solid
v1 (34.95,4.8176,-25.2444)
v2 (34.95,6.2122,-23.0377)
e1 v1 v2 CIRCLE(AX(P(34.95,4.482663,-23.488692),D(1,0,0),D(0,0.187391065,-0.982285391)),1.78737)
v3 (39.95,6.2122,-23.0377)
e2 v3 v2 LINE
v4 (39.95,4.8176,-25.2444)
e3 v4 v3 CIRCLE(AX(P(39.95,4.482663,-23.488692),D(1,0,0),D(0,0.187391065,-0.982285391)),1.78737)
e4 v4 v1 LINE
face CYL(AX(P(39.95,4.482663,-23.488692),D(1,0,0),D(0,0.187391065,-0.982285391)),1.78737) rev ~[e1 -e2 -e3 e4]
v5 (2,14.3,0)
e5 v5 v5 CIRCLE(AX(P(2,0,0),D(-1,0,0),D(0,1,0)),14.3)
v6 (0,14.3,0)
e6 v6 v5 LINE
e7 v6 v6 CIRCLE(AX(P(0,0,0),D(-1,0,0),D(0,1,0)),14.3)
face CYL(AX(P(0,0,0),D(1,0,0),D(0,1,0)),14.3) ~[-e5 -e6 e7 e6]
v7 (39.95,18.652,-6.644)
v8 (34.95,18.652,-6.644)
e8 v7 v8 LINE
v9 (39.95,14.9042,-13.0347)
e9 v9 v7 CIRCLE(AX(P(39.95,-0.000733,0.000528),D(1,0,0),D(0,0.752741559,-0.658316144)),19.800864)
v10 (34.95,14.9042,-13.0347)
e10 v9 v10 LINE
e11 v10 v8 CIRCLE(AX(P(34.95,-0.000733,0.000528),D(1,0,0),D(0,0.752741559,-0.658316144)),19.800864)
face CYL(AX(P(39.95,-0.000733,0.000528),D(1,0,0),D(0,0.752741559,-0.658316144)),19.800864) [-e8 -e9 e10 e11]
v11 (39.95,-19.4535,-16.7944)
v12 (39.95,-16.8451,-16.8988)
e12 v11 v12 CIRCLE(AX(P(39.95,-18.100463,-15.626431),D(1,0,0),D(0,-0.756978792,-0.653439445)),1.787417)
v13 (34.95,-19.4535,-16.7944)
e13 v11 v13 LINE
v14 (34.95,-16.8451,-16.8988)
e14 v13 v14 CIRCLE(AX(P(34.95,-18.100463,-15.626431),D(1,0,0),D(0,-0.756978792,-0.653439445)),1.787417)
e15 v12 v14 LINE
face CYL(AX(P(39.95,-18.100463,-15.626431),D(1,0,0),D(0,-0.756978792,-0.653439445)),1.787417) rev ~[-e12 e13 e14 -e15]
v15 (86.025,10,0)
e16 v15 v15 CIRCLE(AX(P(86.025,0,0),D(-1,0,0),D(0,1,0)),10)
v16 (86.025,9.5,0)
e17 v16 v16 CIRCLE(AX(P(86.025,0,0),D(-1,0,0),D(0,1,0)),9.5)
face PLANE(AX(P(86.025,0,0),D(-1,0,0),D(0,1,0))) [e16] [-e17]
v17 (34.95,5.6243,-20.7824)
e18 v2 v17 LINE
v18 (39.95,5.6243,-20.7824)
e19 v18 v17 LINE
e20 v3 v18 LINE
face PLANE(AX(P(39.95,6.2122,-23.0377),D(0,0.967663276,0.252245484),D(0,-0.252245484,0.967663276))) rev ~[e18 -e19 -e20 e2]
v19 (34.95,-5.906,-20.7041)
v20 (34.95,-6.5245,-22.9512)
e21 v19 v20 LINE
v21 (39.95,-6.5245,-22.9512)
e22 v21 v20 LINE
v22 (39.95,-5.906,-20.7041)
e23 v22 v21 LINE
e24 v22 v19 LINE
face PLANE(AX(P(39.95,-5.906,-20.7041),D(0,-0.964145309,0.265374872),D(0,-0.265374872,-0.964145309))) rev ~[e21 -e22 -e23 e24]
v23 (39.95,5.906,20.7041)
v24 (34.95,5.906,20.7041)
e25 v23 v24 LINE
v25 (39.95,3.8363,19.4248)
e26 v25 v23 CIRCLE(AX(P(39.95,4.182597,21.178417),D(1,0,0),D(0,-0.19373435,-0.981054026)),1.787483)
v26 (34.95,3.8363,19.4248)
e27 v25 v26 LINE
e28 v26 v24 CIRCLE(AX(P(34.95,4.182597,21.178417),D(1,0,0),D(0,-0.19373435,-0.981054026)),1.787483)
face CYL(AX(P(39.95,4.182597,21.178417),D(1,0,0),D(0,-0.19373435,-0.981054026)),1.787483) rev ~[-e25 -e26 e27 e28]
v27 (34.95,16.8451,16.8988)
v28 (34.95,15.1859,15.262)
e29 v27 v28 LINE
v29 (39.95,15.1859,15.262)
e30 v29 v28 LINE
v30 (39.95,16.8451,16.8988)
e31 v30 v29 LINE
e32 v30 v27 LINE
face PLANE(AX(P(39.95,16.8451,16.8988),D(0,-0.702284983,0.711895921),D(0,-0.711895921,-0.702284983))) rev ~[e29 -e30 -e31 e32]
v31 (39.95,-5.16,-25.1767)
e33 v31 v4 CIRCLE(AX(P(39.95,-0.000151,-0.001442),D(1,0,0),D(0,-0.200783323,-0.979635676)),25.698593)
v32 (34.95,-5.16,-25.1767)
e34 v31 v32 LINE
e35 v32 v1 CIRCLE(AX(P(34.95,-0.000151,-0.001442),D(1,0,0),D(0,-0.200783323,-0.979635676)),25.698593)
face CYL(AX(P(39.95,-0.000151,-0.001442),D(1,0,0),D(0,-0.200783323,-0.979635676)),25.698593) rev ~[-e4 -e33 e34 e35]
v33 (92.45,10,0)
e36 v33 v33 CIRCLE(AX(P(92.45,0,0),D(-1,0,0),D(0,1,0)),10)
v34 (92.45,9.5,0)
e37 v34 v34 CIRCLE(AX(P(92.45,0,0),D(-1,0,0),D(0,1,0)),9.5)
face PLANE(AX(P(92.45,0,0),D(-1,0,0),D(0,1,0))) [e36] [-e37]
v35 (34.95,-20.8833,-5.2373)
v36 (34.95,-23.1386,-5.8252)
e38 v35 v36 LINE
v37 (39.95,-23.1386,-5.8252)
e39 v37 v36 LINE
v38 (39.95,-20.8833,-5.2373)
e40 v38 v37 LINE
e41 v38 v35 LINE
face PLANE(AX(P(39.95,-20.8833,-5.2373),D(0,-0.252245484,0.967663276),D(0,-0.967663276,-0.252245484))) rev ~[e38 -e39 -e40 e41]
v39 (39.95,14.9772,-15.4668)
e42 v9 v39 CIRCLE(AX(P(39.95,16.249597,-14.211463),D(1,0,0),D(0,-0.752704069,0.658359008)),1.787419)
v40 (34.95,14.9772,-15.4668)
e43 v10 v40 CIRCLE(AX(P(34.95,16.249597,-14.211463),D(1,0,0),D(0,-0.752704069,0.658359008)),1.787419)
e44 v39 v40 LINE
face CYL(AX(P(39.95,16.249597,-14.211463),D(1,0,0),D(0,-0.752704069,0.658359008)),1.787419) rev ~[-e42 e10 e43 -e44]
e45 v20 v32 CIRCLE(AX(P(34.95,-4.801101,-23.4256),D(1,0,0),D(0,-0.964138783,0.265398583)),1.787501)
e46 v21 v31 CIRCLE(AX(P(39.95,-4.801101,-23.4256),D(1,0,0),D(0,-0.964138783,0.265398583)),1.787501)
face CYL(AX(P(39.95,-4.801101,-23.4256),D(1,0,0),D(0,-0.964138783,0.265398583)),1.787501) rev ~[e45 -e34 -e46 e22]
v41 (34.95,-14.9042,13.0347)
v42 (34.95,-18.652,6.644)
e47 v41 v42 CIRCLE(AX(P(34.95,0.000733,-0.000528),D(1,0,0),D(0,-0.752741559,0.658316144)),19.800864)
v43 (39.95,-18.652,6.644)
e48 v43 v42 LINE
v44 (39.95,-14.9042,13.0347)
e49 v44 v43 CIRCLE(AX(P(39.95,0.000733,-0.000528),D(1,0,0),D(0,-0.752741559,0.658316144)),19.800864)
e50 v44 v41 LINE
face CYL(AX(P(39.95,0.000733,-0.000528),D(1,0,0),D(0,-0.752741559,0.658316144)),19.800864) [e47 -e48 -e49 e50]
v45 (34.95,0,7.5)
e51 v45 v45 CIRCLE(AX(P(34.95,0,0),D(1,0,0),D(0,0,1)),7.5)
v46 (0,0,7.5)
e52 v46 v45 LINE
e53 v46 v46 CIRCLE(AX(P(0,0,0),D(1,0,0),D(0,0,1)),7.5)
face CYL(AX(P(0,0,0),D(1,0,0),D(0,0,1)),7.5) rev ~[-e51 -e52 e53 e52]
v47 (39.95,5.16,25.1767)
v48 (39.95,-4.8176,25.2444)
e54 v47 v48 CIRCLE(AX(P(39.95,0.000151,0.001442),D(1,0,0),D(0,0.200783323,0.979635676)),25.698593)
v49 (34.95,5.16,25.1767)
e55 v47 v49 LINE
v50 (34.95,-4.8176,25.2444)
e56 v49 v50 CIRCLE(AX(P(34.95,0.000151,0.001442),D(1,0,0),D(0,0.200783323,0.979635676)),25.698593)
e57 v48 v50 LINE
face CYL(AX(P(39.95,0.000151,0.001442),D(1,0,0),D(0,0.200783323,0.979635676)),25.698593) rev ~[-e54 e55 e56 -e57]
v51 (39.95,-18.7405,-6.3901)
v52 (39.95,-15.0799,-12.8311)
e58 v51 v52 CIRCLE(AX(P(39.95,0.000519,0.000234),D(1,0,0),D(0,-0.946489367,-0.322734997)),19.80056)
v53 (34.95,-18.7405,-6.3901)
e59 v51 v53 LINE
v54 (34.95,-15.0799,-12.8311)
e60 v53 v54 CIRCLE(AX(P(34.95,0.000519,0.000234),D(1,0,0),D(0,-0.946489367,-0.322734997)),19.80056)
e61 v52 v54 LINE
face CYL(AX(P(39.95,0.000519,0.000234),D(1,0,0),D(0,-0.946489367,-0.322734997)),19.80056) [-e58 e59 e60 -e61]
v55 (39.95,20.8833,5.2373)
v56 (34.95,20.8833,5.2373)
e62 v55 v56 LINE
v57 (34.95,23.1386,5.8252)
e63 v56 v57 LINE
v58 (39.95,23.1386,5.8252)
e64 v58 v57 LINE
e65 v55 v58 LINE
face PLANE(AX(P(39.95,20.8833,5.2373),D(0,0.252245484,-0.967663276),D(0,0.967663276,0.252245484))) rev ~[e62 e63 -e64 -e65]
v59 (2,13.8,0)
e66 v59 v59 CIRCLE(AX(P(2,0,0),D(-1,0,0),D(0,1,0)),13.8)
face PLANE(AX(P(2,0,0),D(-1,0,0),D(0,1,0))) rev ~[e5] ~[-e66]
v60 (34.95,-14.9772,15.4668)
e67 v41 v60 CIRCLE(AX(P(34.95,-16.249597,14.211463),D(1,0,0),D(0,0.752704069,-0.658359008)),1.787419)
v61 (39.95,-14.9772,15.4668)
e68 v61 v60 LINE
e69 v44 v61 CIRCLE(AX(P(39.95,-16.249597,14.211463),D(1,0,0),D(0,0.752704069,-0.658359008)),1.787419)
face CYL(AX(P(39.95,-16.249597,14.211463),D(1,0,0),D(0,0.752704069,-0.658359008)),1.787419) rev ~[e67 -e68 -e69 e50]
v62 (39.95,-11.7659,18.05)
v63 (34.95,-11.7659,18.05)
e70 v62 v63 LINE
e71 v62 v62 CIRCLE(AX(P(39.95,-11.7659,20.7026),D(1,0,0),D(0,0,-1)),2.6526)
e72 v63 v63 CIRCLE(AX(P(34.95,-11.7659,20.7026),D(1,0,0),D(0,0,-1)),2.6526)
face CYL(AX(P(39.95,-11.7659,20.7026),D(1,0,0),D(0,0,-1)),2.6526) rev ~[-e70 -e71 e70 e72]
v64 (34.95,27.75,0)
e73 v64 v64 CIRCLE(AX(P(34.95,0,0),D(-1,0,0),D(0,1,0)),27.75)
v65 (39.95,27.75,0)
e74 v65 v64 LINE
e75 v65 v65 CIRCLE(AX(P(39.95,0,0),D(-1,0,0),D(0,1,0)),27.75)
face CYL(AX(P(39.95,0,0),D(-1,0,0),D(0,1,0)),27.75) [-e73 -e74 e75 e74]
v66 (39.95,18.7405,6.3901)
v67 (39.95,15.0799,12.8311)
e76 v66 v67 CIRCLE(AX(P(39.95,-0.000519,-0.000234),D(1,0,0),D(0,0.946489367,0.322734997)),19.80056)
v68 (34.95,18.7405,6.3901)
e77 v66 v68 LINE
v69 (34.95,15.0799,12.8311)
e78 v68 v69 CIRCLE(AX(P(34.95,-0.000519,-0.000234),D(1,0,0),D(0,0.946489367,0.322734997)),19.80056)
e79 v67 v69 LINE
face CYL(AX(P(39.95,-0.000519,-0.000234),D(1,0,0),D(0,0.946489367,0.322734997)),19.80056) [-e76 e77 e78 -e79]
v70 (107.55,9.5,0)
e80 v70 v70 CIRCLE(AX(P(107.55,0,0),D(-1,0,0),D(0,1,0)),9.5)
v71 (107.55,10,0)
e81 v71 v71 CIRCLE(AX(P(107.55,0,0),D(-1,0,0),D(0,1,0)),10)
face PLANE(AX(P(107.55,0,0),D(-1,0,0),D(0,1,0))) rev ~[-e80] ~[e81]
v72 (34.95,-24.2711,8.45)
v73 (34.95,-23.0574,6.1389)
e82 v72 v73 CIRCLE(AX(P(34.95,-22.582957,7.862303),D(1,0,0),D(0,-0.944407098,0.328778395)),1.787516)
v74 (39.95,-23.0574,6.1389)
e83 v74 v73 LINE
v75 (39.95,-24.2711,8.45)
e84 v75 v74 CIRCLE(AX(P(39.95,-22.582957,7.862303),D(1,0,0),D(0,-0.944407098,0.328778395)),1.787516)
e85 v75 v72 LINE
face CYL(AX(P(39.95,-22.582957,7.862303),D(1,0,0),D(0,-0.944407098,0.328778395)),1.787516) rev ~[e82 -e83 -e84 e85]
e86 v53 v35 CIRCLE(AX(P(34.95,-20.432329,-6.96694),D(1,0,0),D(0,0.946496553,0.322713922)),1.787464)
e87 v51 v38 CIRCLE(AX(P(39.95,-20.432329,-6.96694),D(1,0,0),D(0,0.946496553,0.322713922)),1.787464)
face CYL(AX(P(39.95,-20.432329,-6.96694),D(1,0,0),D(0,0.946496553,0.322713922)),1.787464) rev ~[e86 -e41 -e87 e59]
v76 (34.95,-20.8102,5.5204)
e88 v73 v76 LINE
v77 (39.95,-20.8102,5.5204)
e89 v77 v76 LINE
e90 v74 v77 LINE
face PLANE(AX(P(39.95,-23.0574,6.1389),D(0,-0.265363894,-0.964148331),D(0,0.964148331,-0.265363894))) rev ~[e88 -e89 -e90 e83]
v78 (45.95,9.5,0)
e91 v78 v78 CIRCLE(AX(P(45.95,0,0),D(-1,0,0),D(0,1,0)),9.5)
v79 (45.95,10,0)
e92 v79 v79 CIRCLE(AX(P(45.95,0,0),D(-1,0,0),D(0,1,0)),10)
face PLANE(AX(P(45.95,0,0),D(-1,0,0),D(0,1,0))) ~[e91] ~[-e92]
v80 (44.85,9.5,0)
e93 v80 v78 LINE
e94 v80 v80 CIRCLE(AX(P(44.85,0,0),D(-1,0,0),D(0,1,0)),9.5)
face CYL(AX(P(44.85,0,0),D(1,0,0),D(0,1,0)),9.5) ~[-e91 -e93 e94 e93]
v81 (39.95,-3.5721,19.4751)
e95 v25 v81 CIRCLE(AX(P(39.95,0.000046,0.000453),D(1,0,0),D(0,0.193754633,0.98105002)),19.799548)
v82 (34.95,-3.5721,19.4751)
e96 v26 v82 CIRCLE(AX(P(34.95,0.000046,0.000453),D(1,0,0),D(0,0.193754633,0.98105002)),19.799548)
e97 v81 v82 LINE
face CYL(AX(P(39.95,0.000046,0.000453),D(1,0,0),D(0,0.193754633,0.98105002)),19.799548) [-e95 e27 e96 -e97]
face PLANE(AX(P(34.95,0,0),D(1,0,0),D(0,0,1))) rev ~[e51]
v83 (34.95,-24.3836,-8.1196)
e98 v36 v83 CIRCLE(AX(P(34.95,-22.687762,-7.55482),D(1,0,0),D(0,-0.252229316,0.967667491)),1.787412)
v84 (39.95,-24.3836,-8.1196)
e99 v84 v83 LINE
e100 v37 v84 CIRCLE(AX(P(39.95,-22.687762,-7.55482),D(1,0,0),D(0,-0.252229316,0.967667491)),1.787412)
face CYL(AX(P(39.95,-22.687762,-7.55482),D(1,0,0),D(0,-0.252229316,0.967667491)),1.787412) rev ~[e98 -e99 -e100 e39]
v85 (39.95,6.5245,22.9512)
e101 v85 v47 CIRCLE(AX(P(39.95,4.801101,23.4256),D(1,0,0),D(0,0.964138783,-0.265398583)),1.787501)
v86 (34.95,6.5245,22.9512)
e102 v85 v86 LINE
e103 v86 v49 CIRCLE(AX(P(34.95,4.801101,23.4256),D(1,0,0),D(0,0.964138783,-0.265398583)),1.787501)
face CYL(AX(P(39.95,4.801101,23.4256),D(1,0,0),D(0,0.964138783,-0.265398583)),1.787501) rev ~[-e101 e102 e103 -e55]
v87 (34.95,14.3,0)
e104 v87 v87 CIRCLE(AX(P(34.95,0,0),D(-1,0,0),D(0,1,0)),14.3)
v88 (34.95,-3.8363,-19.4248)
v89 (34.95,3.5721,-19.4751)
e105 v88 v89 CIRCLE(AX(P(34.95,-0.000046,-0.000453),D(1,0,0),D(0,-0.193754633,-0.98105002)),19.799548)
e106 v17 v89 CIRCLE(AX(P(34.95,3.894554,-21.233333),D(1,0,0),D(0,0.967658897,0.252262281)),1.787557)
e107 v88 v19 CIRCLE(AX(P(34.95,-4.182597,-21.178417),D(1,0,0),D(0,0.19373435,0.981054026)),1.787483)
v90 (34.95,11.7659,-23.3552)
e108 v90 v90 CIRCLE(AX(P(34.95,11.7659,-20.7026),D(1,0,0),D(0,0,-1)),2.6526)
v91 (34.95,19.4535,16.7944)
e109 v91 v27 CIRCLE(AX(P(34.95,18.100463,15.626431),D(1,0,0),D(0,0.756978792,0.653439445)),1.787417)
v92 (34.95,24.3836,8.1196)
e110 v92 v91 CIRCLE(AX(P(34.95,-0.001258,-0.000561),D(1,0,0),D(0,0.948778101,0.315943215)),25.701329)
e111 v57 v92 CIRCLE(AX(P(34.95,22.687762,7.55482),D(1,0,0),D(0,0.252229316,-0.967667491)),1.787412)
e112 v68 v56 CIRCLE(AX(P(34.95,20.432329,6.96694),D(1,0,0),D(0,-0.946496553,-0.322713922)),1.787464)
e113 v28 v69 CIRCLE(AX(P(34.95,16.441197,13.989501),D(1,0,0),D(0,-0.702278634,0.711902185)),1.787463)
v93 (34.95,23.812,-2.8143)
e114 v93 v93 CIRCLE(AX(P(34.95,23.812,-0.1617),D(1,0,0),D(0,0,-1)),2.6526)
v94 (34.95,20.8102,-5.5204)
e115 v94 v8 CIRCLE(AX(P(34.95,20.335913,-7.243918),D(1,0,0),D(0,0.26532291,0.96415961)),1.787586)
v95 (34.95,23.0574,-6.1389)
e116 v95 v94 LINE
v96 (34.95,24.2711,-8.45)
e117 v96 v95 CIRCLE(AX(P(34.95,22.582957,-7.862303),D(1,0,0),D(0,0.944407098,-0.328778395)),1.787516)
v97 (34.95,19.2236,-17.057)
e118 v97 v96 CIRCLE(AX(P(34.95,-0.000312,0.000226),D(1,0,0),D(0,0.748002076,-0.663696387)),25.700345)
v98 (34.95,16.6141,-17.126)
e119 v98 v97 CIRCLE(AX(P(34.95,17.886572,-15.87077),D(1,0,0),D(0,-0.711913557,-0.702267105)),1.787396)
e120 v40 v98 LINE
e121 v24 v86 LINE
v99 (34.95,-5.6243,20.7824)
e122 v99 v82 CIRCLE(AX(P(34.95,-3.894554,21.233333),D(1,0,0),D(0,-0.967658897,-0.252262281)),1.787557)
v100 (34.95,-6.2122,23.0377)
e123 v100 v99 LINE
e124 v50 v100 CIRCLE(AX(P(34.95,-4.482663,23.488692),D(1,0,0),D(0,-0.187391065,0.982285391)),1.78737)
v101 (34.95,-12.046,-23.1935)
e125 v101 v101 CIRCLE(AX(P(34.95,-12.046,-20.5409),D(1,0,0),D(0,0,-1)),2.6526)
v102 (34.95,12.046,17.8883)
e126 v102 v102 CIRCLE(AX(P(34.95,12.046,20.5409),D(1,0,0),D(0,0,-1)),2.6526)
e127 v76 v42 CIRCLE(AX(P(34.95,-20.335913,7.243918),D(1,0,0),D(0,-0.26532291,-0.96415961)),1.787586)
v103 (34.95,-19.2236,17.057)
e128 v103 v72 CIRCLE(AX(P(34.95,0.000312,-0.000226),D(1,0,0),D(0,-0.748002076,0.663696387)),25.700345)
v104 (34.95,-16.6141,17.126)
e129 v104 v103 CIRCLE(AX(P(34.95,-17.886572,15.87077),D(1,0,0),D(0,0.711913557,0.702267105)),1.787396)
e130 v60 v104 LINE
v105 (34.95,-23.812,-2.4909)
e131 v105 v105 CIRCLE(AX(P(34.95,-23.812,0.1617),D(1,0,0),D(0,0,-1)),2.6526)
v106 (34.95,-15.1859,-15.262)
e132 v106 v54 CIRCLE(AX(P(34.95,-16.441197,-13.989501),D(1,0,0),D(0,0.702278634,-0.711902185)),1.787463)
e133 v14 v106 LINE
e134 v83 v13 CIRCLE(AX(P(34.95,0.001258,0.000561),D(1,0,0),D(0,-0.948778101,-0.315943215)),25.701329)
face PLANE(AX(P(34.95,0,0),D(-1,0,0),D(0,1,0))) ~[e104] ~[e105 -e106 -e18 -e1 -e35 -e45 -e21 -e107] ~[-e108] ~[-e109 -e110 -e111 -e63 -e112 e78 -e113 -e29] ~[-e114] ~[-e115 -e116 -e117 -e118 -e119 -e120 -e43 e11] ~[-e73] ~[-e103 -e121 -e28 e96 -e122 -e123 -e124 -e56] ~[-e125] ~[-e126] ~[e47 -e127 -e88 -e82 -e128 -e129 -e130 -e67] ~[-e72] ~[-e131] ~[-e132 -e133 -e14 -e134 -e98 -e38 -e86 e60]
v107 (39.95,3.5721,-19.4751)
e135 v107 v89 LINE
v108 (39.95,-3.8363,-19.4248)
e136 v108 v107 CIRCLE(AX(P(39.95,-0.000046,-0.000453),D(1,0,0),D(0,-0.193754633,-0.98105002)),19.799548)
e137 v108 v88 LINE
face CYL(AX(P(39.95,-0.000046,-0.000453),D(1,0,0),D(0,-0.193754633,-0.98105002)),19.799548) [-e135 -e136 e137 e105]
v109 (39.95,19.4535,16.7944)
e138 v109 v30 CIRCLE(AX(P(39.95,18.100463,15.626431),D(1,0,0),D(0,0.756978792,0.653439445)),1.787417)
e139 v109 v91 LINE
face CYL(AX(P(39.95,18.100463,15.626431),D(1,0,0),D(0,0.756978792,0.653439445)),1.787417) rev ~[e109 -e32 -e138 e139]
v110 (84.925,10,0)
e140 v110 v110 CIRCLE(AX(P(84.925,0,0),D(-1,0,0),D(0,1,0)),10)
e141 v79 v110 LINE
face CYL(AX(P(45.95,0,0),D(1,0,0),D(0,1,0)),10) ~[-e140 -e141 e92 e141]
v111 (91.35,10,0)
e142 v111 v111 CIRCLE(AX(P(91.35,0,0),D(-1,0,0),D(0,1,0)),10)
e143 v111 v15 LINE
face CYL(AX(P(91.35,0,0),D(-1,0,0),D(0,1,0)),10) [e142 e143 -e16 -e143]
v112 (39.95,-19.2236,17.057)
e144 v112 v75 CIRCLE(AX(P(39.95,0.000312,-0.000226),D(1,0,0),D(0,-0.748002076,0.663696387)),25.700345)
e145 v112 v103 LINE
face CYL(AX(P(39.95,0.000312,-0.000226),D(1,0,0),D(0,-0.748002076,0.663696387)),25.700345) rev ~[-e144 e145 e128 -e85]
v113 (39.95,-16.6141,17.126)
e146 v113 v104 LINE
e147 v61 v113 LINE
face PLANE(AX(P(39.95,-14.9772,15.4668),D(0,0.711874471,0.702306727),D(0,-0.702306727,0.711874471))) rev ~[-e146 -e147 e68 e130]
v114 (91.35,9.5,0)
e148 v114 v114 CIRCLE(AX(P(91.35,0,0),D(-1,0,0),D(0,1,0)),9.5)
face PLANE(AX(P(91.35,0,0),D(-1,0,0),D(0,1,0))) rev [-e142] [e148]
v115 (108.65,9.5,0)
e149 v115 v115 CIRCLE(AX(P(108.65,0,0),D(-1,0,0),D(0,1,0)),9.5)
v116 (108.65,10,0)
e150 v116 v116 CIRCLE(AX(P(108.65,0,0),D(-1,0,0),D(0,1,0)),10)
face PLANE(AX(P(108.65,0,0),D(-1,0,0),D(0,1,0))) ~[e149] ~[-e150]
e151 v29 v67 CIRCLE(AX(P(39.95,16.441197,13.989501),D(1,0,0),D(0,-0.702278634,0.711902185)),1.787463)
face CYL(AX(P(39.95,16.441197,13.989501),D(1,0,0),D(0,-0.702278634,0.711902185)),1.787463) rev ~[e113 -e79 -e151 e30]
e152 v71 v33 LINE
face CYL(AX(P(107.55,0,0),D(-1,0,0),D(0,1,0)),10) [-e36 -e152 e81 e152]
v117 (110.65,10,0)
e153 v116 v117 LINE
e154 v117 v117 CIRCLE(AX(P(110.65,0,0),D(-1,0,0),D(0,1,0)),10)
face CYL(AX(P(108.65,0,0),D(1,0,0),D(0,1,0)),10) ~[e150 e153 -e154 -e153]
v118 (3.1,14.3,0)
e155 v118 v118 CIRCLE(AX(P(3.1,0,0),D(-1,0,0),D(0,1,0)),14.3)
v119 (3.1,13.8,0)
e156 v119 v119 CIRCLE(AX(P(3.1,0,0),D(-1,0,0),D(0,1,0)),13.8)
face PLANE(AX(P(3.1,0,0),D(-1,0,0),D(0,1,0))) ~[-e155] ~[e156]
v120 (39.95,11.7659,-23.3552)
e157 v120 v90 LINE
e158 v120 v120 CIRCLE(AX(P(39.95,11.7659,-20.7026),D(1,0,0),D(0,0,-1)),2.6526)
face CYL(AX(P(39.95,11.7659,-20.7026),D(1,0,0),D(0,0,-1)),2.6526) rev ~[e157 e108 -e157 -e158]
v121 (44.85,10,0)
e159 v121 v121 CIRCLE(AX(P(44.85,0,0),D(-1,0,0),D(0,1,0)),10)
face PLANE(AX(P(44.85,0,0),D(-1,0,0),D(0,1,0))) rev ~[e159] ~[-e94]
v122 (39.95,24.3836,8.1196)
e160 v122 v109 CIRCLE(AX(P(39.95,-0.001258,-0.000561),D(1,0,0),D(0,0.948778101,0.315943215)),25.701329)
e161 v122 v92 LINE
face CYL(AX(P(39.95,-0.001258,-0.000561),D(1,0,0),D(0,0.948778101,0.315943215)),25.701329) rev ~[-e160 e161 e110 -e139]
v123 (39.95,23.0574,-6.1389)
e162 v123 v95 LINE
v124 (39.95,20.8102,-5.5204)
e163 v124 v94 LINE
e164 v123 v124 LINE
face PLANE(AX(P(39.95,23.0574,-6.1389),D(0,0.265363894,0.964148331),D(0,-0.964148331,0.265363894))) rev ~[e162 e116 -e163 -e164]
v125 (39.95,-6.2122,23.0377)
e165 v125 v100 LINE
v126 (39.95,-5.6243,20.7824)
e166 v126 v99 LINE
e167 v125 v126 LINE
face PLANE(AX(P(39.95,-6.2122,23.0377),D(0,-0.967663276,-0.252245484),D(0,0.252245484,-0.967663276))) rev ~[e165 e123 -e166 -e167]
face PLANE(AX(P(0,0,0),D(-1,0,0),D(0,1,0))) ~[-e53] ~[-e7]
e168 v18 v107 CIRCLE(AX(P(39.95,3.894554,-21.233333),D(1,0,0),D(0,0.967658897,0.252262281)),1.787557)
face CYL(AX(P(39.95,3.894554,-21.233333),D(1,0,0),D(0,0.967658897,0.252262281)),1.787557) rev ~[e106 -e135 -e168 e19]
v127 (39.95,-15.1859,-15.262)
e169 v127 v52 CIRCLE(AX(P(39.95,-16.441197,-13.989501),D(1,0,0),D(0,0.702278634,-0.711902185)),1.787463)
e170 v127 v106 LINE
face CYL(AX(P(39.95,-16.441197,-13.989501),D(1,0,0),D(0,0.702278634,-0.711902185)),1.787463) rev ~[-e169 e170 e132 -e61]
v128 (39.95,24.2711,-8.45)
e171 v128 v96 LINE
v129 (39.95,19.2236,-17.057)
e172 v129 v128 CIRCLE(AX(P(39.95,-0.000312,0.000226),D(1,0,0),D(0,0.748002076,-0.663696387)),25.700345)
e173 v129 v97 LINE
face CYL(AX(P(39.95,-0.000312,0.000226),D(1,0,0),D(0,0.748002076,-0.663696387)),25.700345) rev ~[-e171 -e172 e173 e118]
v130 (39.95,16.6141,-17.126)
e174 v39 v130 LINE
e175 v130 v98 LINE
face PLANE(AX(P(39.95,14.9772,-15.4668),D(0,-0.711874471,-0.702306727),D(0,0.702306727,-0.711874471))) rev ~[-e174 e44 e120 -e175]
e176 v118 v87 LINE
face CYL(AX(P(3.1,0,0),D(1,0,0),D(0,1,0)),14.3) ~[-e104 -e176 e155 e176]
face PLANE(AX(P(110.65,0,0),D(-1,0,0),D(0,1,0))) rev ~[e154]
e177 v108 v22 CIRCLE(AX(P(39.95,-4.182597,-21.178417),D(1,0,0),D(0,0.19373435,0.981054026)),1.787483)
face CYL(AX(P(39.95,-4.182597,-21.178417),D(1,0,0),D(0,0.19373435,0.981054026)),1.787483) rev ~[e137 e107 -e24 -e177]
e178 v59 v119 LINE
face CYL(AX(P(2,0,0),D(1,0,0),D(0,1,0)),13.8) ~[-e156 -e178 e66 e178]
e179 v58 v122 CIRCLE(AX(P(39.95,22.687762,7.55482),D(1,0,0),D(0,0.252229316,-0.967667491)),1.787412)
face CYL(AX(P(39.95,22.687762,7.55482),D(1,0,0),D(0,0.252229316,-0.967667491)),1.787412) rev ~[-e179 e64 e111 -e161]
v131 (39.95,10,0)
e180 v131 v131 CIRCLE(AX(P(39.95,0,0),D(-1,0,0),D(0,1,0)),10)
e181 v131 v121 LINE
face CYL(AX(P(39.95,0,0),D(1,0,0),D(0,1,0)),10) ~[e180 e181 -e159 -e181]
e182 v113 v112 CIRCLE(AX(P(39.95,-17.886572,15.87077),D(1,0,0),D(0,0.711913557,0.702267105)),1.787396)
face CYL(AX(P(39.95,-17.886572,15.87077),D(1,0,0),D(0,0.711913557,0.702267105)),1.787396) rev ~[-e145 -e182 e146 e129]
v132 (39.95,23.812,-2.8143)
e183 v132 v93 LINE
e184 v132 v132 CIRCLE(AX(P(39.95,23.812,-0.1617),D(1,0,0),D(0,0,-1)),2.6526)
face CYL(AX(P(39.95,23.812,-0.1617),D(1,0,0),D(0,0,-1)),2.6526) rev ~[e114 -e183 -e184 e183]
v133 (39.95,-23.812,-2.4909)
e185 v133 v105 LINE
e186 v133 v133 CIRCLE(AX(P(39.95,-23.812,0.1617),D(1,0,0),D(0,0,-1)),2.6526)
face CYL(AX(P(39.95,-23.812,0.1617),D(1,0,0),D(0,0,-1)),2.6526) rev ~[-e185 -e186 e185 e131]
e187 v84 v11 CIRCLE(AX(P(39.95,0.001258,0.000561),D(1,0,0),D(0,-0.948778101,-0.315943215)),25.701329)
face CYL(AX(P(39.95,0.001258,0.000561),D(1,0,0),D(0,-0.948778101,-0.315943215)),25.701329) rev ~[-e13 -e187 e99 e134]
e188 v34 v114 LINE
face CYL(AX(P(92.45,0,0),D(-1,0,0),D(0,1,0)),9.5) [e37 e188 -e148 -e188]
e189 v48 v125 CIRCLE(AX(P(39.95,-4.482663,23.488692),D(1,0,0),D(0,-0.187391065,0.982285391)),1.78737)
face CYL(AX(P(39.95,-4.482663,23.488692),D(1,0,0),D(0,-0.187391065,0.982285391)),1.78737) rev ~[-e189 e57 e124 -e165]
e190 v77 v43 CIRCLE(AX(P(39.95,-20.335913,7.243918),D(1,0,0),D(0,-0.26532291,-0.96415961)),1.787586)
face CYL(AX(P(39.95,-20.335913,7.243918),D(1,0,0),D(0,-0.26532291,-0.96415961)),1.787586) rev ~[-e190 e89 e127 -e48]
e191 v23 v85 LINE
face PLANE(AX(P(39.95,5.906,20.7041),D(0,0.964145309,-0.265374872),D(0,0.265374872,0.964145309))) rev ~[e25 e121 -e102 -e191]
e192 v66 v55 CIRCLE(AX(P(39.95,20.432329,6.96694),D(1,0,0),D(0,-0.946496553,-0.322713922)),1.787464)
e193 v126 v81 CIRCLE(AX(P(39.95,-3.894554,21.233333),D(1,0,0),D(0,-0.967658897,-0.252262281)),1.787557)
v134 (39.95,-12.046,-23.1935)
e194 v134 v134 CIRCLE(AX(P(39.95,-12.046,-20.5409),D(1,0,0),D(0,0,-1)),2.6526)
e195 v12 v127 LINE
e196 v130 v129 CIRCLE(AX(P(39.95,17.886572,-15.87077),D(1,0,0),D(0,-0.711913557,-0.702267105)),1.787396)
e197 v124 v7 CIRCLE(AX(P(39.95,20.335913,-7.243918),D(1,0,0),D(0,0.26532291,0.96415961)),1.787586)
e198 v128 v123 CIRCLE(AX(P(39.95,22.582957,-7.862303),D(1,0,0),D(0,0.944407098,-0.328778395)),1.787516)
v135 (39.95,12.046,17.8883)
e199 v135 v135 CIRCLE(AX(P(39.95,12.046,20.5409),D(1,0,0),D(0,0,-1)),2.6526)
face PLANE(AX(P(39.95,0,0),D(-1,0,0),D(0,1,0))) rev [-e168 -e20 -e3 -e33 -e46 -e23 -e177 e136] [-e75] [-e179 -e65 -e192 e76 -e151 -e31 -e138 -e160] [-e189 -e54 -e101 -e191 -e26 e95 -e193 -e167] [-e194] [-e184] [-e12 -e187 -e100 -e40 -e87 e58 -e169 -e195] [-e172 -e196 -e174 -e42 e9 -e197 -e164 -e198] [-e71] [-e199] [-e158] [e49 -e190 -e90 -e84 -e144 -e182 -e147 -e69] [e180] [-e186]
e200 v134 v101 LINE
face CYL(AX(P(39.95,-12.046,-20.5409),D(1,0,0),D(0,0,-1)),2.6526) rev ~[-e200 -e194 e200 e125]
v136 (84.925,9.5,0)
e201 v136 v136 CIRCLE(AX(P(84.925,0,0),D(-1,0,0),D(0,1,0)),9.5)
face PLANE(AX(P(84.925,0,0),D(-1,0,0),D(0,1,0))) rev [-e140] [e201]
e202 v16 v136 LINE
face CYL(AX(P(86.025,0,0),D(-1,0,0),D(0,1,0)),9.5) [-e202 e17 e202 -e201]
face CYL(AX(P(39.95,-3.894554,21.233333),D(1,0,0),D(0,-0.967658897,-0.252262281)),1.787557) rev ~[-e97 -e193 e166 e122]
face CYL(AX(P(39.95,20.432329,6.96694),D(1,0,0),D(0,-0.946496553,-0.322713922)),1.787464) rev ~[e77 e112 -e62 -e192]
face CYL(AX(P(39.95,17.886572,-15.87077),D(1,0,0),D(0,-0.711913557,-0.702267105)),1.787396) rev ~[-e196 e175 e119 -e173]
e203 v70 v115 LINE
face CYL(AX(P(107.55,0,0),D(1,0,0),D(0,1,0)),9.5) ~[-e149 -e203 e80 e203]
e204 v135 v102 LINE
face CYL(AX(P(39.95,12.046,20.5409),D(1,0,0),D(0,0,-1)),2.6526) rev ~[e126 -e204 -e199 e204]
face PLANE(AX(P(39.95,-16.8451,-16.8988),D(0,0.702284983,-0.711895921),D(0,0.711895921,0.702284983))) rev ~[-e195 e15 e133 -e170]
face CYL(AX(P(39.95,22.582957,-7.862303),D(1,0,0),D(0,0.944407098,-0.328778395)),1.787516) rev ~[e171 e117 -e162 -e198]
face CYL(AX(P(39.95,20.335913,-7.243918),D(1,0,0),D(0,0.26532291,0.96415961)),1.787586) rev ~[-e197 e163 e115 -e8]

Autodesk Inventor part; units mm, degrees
ref_plane "YZ Plane" through (0, 0, 0) normal (1, 0, 0) x (0, 1, 0)
ref_plane "XZ Plane" through (0, 0, 0) normal (0, 1, 0) x (-1, 0, 0)
ref_plane "XY Plane" through (0, 0, 0) normal (0, 0, 1) x (1, 0, 0)
sketch "Sketch1" plane through (0, 0, 0) normal (0, 0, 1) x (1, 0, 0)
  line L0 (0, 0) -> (0, 14.3)
  line L1 (107.55, 10) -> (107.55, 9.5)
  line L2 (107.55, 9.5) -> (108.65, 9.5)
  line L3 (108.65, 9.5) -> (108.65, 10)
  line L4 (108.65, 10) -> (110.65, 10)
  line L5 (110.65, 0) -> (0, 0)
  line L6 (39.95, 10) -> (39.95, 27.75)
  line L7 (39.95, 27.75) -> (34.95, 27.75)
  line L8 (0, 14.3) -> (2, 14.3)
  line L9 (2, 14.3) -> (2, 13.8)
  line L10 (2, 13.8) -> (3.1, 13.8)
  line L11 (3.1, 13.8) -> (3.1, 14.3)
  line L12 (3.1, 14.3) -> (34.95, 14.3)
  line L13 (34.95, 14.3) -> (34.95, 27.75)
  line L14 (107.55, 10) -> (92.45, 10)
  line L15 (92.45, 10) -> (92.45, 9.5)
  line L16 (92.45, 9.5) -> (91.35, 9.5)
  line L17 (91.35, 9.5) -> (91.35, 10)
  line L18 (110.65, 10) -> (110.65, 0)
  line L19 (91.35, 10) -> (86.025, 10)
  line L20 (86.025, 10) -> (86.025, 9.5)
  line L21 (86.025, 9.5) -> (84.925, 9.5)
  line L22 (84.925, 9.5) -> (84.925, 10)
  line L23 (39.95, 10) -> (44.85, 10)
  line L24 (44.85, 10) -> (44.85, 9.5)
  line L25 (44.85, 9.5) -> (45.95, 9.5)
  line L26 (45.95, 9.5) -> (45.95, 10)
  line L27 (45.95, 10) -> (84.925, 10)
  dimension "d3" = 1.1
  dimension "d6" = 10
  dimension "d8" = 5
  dimension "d9" = 67.6
  dimension "d10" = 27.75
  dimension "d15" = 1.1
  dimension "d16" = 0.5
  dimension "d17" = 2
  dimension "d18" = 31.85
  dimension "d19" = 14.3
  dimension "d20" = 0.5
  dimension "d22" = 0.5
  dimension "d23" = 2
  dimension "d39" = 1.1
  dimension "d40" = 0.5
  dimension "d41" = 15.1
  dimension "d43" = 1.1
  dimension "d44" = 0.5
  dimension "d45" = 44.975
  dimension "d47" = 1.1
  dimension "d48" = 0.5
  dimension "d49" = 6
revolve "Revolution1" add sketch "Sketch1" angle 360 about axis through (110.65, 0, 0) along (-1, 0, 0)
sketch "Sketch2" plane through (39.95, 0, 0) normal (1, 0, 0) x (0, 0, -1)
  arc A0 (19.9153, -3.9332) -> (19.9669, 3.6623) centre (0, 0) ccw projected
  arc A1 (20.9085, 5.1405) -> (19.9669, 3.6623) centre (21.2333, 3.8946) ccw projected
  line L0 (20.9085, 5.1405) -> (23.1638, 5.7284) projected
  arc A2 (24.7533, 4.7239) -> (23.1638, 5.7284) centre (23.4886, 4.4826) ccw projected
  arc A3 (24.6868, -5.0596) -> (24.7533, 4.7239) centre (0, 0) ccw projected
  arc A4 (23.0839, -6.0425) -> (24.6868, -5.0596) centre (23.4256, -4.8011) ccw projected
  line L1 (23.0839, -6.0425) -> (20.8368, -5.424) construction
  arc A5 (19.9153, -3.9332) -> (20.8368, -5.424) centre (21.1784, -4.1826) ccw projected
  circle A6 centre (20.5409, -12.046) radius 2.1526 construction
  arc A7 (25.2444, 4.8176) -> (23.0377, 6.2122) centre (23.4886, 4.4826) ccw
  line L2 (23.0377, 6.2122) -> (20.7824, 5.6243)
  arc A8 (20.7824, 5.6243) -> (19.4751, 3.5721) centre (21.2333, 3.8946) ccw
  arc A9 (19.4248, -3.8363) -> (19.4751, 3.5721) centre (0, 0) ccw
  arc A10 (19.4248, -3.8363) -> (20.7041, -5.906) centre (21.1784, -4.1826) ccw
  line L3 (20.7041, -5.906) -> (22.9512, -6.5245)
  arc A11 (22.9512, -6.5245) -> (25.1767, -5.16) centre (23.4256, -4.8011) ccw
  arc A12 (25.1767, -5.16) -> (25.2444, 4.8176) centre (0, 0) ccw
  circle A13 centre (20.5409, -12.046) radius 2.6526
  arc A14 (17.126, 16.6141) -> (17.057, 19.2236) centre (15.8707, 17.8866) ccw
  line L4 (15.4668, 14.9772) -> (17.126, 16.6141)
  arc A15 (13.0347, 14.9042) -> (15.4668, 14.9772) centre (14.2115, 16.2497) ccw
  arc A16 (13.0347, 14.9042) -> (6.644, 18.652) centre (0, 0) ccw
  arc A17 (5.5204, 20.8102) -> (6.644, 18.652) centre (7.2438, 20.3359) ccw
  line L5 (6.1389, 23.0574) -> (5.5204, 20.8102)
  arc A18 (8.45, 24.2711) -> (6.1389, 23.0574) centre (7.8623, 22.583) ccw
  arc A19 (17.057, 19.2236) -> (8.45, 24.2711) centre (0, 0) ccw
  circle A20 centre (20.7026, 11.7659) radius 2.6526
  arc A21 (-5.8252, 23.1386) -> (-8.1196, 24.3836) centre (-7.5549, 22.6877) ccw
  line L6 (-5.2373, 20.8833) -> (-5.8252, 23.1386)
  arc A22 (-6.3901, 18.7405) -> (-5.2373, 20.8833) centre (-6.967, 20.4324) ccw
  arc A23 (-6.3901, 18.7405) -> (-12.8311, 15.0799) centre (0, 0) ccw
  arc A24 (-15.262, 15.1859) -> (-12.8311, 15.0799) centre (-13.9895, 16.4412) ccw
  line L7 (-16.8988, 16.8451) -> (-15.262, 15.1859)
  arc A25 (-16.7944, 19.4535) -> (-16.8988, 16.8451) centre (-15.6263, 18.1004) ccw
  arc A26 (-8.1196, 24.3836) -> (-16.7944, 19.4535) centre (0, 0) ccw
  circle A27 centre (0.1617, 23.812) radius 2.6526
  arc A28 (-22.9512, 6.5245) -> (-25.1767, 5.16) centre (-23.4256, 4.8011) ccw
  line L8 (-20.7041, 5.906) -> (-22.9512, 6.5245)
  arc A29 (-19.4248, 3.8363) -> (-20.7041, 5.906) centre (-21.1784, 4.1826) ccw
  arc A30 (-19.4248, 3.8363) -> (-19.4751, -3.5721) centre (0, 0) ccw
  arc A31 (-20.7824, -5.6243) -> (-19.4751, -3.5721) centre (-21.2333, -3.8946) ccw
  line L9 (-23.0377, -6.2122) -> (-20.7824, -5.6243)
  arc A32 (-25.2444, -4.8176) -> (-23.0377, -6.2122) centre (-23.4886, -4.4826) ccw
  arc A33 (-25.1767, 5.16) -> (-25.2444, -4.8176) centre (0, 0) ccw
  circle A34 centre (-20.5409, 12.046) radius 2.6526
  arc A35 (-17.126, -16.6141) -> (-17.057, -19.2236) centre (-15.8707, -17.8866) ccw
  line L10 (-15.4668, -14.9772) -> (-17.126, -16.6141)
  arc A36 (-13.0347, -14.9042) -> (-15.4668, -14.9772) centre (-14.2115, -16.2497) ccw
  arc A37 (-13.0347, -14.9042) -> (-6.644, -18.652) centre (0, 0) ccw
  arc A38 (-5.5204, -20.8102) -> (-6.644, -18.652) centre (-7.2438, -20.3359) ccw
  line L11 (-6.1389, -23.0574) -> (-5.5204, -20.8102)
  arc A39 (-8.45, -24.2711) -> (-6.1389, -23.0574) centre (-7.8623, -22.583) ccw
  arc A40 (-17.057, -19.2236) -> (-8.45, -24.2711) centre (0, 0) ccw
  circle A41 centre (-20.7026, -11.7659) radius 2.6526
  arc A42 (5.8252, -23.1386) -> (8.1196, -24.3836) centre (7.5549, -22.6877) ccw
  line L12 (5.2373, -20.8833) -> (5.8252, -23.1386)
  arc A43 (6.3901, -18.7405) -> (5.2373, -20.8833) centre (6.967, -20.4324) ccw
  arc A44 (6.3901, -18.7405) -> (12.8311, -15.0799) centre (0, 0) ccw
  arc A45 (15.262, -15.1859) -> (12.8311, -15.0799) centre (13.9895, -16.4412) ccw
  line L13 (16.8988, -16.8451) -> (15.262, -15.1859)
  arc A46 (16.7944, -19.4535) -> (16.8988, -16.8451) centre (15.6263, -18.1004) ccw
  arc A47 (8.1196, -24.3836) -> (16.7944, -19.4535) centre (0, 0) ccw
  circle A48 centre (-0.1617, -23.812) radius 2.6526
  point P0 (0, 0)
  dimension "d24" = 0.5
  dimension "d25" = 0.5
  dimension "d28" = 360
extrude "Extrusion1" cut sketch "Sketch2" against normal through all
sketch "Sketch3" plane through (0, 0, 0) normal (-1, 0, 0) x (0, 0, 1)
  circle A0 centre (0, 0) radius 14.3 projected
  point P0 (0, 0)
  point P1 (0, 0)
hole "Hole1" at (0, 0, 0) direction (1, 0, 0) diameter 15 depth 34.95
properties part number "Center Axle" material "Steel, Mild"
